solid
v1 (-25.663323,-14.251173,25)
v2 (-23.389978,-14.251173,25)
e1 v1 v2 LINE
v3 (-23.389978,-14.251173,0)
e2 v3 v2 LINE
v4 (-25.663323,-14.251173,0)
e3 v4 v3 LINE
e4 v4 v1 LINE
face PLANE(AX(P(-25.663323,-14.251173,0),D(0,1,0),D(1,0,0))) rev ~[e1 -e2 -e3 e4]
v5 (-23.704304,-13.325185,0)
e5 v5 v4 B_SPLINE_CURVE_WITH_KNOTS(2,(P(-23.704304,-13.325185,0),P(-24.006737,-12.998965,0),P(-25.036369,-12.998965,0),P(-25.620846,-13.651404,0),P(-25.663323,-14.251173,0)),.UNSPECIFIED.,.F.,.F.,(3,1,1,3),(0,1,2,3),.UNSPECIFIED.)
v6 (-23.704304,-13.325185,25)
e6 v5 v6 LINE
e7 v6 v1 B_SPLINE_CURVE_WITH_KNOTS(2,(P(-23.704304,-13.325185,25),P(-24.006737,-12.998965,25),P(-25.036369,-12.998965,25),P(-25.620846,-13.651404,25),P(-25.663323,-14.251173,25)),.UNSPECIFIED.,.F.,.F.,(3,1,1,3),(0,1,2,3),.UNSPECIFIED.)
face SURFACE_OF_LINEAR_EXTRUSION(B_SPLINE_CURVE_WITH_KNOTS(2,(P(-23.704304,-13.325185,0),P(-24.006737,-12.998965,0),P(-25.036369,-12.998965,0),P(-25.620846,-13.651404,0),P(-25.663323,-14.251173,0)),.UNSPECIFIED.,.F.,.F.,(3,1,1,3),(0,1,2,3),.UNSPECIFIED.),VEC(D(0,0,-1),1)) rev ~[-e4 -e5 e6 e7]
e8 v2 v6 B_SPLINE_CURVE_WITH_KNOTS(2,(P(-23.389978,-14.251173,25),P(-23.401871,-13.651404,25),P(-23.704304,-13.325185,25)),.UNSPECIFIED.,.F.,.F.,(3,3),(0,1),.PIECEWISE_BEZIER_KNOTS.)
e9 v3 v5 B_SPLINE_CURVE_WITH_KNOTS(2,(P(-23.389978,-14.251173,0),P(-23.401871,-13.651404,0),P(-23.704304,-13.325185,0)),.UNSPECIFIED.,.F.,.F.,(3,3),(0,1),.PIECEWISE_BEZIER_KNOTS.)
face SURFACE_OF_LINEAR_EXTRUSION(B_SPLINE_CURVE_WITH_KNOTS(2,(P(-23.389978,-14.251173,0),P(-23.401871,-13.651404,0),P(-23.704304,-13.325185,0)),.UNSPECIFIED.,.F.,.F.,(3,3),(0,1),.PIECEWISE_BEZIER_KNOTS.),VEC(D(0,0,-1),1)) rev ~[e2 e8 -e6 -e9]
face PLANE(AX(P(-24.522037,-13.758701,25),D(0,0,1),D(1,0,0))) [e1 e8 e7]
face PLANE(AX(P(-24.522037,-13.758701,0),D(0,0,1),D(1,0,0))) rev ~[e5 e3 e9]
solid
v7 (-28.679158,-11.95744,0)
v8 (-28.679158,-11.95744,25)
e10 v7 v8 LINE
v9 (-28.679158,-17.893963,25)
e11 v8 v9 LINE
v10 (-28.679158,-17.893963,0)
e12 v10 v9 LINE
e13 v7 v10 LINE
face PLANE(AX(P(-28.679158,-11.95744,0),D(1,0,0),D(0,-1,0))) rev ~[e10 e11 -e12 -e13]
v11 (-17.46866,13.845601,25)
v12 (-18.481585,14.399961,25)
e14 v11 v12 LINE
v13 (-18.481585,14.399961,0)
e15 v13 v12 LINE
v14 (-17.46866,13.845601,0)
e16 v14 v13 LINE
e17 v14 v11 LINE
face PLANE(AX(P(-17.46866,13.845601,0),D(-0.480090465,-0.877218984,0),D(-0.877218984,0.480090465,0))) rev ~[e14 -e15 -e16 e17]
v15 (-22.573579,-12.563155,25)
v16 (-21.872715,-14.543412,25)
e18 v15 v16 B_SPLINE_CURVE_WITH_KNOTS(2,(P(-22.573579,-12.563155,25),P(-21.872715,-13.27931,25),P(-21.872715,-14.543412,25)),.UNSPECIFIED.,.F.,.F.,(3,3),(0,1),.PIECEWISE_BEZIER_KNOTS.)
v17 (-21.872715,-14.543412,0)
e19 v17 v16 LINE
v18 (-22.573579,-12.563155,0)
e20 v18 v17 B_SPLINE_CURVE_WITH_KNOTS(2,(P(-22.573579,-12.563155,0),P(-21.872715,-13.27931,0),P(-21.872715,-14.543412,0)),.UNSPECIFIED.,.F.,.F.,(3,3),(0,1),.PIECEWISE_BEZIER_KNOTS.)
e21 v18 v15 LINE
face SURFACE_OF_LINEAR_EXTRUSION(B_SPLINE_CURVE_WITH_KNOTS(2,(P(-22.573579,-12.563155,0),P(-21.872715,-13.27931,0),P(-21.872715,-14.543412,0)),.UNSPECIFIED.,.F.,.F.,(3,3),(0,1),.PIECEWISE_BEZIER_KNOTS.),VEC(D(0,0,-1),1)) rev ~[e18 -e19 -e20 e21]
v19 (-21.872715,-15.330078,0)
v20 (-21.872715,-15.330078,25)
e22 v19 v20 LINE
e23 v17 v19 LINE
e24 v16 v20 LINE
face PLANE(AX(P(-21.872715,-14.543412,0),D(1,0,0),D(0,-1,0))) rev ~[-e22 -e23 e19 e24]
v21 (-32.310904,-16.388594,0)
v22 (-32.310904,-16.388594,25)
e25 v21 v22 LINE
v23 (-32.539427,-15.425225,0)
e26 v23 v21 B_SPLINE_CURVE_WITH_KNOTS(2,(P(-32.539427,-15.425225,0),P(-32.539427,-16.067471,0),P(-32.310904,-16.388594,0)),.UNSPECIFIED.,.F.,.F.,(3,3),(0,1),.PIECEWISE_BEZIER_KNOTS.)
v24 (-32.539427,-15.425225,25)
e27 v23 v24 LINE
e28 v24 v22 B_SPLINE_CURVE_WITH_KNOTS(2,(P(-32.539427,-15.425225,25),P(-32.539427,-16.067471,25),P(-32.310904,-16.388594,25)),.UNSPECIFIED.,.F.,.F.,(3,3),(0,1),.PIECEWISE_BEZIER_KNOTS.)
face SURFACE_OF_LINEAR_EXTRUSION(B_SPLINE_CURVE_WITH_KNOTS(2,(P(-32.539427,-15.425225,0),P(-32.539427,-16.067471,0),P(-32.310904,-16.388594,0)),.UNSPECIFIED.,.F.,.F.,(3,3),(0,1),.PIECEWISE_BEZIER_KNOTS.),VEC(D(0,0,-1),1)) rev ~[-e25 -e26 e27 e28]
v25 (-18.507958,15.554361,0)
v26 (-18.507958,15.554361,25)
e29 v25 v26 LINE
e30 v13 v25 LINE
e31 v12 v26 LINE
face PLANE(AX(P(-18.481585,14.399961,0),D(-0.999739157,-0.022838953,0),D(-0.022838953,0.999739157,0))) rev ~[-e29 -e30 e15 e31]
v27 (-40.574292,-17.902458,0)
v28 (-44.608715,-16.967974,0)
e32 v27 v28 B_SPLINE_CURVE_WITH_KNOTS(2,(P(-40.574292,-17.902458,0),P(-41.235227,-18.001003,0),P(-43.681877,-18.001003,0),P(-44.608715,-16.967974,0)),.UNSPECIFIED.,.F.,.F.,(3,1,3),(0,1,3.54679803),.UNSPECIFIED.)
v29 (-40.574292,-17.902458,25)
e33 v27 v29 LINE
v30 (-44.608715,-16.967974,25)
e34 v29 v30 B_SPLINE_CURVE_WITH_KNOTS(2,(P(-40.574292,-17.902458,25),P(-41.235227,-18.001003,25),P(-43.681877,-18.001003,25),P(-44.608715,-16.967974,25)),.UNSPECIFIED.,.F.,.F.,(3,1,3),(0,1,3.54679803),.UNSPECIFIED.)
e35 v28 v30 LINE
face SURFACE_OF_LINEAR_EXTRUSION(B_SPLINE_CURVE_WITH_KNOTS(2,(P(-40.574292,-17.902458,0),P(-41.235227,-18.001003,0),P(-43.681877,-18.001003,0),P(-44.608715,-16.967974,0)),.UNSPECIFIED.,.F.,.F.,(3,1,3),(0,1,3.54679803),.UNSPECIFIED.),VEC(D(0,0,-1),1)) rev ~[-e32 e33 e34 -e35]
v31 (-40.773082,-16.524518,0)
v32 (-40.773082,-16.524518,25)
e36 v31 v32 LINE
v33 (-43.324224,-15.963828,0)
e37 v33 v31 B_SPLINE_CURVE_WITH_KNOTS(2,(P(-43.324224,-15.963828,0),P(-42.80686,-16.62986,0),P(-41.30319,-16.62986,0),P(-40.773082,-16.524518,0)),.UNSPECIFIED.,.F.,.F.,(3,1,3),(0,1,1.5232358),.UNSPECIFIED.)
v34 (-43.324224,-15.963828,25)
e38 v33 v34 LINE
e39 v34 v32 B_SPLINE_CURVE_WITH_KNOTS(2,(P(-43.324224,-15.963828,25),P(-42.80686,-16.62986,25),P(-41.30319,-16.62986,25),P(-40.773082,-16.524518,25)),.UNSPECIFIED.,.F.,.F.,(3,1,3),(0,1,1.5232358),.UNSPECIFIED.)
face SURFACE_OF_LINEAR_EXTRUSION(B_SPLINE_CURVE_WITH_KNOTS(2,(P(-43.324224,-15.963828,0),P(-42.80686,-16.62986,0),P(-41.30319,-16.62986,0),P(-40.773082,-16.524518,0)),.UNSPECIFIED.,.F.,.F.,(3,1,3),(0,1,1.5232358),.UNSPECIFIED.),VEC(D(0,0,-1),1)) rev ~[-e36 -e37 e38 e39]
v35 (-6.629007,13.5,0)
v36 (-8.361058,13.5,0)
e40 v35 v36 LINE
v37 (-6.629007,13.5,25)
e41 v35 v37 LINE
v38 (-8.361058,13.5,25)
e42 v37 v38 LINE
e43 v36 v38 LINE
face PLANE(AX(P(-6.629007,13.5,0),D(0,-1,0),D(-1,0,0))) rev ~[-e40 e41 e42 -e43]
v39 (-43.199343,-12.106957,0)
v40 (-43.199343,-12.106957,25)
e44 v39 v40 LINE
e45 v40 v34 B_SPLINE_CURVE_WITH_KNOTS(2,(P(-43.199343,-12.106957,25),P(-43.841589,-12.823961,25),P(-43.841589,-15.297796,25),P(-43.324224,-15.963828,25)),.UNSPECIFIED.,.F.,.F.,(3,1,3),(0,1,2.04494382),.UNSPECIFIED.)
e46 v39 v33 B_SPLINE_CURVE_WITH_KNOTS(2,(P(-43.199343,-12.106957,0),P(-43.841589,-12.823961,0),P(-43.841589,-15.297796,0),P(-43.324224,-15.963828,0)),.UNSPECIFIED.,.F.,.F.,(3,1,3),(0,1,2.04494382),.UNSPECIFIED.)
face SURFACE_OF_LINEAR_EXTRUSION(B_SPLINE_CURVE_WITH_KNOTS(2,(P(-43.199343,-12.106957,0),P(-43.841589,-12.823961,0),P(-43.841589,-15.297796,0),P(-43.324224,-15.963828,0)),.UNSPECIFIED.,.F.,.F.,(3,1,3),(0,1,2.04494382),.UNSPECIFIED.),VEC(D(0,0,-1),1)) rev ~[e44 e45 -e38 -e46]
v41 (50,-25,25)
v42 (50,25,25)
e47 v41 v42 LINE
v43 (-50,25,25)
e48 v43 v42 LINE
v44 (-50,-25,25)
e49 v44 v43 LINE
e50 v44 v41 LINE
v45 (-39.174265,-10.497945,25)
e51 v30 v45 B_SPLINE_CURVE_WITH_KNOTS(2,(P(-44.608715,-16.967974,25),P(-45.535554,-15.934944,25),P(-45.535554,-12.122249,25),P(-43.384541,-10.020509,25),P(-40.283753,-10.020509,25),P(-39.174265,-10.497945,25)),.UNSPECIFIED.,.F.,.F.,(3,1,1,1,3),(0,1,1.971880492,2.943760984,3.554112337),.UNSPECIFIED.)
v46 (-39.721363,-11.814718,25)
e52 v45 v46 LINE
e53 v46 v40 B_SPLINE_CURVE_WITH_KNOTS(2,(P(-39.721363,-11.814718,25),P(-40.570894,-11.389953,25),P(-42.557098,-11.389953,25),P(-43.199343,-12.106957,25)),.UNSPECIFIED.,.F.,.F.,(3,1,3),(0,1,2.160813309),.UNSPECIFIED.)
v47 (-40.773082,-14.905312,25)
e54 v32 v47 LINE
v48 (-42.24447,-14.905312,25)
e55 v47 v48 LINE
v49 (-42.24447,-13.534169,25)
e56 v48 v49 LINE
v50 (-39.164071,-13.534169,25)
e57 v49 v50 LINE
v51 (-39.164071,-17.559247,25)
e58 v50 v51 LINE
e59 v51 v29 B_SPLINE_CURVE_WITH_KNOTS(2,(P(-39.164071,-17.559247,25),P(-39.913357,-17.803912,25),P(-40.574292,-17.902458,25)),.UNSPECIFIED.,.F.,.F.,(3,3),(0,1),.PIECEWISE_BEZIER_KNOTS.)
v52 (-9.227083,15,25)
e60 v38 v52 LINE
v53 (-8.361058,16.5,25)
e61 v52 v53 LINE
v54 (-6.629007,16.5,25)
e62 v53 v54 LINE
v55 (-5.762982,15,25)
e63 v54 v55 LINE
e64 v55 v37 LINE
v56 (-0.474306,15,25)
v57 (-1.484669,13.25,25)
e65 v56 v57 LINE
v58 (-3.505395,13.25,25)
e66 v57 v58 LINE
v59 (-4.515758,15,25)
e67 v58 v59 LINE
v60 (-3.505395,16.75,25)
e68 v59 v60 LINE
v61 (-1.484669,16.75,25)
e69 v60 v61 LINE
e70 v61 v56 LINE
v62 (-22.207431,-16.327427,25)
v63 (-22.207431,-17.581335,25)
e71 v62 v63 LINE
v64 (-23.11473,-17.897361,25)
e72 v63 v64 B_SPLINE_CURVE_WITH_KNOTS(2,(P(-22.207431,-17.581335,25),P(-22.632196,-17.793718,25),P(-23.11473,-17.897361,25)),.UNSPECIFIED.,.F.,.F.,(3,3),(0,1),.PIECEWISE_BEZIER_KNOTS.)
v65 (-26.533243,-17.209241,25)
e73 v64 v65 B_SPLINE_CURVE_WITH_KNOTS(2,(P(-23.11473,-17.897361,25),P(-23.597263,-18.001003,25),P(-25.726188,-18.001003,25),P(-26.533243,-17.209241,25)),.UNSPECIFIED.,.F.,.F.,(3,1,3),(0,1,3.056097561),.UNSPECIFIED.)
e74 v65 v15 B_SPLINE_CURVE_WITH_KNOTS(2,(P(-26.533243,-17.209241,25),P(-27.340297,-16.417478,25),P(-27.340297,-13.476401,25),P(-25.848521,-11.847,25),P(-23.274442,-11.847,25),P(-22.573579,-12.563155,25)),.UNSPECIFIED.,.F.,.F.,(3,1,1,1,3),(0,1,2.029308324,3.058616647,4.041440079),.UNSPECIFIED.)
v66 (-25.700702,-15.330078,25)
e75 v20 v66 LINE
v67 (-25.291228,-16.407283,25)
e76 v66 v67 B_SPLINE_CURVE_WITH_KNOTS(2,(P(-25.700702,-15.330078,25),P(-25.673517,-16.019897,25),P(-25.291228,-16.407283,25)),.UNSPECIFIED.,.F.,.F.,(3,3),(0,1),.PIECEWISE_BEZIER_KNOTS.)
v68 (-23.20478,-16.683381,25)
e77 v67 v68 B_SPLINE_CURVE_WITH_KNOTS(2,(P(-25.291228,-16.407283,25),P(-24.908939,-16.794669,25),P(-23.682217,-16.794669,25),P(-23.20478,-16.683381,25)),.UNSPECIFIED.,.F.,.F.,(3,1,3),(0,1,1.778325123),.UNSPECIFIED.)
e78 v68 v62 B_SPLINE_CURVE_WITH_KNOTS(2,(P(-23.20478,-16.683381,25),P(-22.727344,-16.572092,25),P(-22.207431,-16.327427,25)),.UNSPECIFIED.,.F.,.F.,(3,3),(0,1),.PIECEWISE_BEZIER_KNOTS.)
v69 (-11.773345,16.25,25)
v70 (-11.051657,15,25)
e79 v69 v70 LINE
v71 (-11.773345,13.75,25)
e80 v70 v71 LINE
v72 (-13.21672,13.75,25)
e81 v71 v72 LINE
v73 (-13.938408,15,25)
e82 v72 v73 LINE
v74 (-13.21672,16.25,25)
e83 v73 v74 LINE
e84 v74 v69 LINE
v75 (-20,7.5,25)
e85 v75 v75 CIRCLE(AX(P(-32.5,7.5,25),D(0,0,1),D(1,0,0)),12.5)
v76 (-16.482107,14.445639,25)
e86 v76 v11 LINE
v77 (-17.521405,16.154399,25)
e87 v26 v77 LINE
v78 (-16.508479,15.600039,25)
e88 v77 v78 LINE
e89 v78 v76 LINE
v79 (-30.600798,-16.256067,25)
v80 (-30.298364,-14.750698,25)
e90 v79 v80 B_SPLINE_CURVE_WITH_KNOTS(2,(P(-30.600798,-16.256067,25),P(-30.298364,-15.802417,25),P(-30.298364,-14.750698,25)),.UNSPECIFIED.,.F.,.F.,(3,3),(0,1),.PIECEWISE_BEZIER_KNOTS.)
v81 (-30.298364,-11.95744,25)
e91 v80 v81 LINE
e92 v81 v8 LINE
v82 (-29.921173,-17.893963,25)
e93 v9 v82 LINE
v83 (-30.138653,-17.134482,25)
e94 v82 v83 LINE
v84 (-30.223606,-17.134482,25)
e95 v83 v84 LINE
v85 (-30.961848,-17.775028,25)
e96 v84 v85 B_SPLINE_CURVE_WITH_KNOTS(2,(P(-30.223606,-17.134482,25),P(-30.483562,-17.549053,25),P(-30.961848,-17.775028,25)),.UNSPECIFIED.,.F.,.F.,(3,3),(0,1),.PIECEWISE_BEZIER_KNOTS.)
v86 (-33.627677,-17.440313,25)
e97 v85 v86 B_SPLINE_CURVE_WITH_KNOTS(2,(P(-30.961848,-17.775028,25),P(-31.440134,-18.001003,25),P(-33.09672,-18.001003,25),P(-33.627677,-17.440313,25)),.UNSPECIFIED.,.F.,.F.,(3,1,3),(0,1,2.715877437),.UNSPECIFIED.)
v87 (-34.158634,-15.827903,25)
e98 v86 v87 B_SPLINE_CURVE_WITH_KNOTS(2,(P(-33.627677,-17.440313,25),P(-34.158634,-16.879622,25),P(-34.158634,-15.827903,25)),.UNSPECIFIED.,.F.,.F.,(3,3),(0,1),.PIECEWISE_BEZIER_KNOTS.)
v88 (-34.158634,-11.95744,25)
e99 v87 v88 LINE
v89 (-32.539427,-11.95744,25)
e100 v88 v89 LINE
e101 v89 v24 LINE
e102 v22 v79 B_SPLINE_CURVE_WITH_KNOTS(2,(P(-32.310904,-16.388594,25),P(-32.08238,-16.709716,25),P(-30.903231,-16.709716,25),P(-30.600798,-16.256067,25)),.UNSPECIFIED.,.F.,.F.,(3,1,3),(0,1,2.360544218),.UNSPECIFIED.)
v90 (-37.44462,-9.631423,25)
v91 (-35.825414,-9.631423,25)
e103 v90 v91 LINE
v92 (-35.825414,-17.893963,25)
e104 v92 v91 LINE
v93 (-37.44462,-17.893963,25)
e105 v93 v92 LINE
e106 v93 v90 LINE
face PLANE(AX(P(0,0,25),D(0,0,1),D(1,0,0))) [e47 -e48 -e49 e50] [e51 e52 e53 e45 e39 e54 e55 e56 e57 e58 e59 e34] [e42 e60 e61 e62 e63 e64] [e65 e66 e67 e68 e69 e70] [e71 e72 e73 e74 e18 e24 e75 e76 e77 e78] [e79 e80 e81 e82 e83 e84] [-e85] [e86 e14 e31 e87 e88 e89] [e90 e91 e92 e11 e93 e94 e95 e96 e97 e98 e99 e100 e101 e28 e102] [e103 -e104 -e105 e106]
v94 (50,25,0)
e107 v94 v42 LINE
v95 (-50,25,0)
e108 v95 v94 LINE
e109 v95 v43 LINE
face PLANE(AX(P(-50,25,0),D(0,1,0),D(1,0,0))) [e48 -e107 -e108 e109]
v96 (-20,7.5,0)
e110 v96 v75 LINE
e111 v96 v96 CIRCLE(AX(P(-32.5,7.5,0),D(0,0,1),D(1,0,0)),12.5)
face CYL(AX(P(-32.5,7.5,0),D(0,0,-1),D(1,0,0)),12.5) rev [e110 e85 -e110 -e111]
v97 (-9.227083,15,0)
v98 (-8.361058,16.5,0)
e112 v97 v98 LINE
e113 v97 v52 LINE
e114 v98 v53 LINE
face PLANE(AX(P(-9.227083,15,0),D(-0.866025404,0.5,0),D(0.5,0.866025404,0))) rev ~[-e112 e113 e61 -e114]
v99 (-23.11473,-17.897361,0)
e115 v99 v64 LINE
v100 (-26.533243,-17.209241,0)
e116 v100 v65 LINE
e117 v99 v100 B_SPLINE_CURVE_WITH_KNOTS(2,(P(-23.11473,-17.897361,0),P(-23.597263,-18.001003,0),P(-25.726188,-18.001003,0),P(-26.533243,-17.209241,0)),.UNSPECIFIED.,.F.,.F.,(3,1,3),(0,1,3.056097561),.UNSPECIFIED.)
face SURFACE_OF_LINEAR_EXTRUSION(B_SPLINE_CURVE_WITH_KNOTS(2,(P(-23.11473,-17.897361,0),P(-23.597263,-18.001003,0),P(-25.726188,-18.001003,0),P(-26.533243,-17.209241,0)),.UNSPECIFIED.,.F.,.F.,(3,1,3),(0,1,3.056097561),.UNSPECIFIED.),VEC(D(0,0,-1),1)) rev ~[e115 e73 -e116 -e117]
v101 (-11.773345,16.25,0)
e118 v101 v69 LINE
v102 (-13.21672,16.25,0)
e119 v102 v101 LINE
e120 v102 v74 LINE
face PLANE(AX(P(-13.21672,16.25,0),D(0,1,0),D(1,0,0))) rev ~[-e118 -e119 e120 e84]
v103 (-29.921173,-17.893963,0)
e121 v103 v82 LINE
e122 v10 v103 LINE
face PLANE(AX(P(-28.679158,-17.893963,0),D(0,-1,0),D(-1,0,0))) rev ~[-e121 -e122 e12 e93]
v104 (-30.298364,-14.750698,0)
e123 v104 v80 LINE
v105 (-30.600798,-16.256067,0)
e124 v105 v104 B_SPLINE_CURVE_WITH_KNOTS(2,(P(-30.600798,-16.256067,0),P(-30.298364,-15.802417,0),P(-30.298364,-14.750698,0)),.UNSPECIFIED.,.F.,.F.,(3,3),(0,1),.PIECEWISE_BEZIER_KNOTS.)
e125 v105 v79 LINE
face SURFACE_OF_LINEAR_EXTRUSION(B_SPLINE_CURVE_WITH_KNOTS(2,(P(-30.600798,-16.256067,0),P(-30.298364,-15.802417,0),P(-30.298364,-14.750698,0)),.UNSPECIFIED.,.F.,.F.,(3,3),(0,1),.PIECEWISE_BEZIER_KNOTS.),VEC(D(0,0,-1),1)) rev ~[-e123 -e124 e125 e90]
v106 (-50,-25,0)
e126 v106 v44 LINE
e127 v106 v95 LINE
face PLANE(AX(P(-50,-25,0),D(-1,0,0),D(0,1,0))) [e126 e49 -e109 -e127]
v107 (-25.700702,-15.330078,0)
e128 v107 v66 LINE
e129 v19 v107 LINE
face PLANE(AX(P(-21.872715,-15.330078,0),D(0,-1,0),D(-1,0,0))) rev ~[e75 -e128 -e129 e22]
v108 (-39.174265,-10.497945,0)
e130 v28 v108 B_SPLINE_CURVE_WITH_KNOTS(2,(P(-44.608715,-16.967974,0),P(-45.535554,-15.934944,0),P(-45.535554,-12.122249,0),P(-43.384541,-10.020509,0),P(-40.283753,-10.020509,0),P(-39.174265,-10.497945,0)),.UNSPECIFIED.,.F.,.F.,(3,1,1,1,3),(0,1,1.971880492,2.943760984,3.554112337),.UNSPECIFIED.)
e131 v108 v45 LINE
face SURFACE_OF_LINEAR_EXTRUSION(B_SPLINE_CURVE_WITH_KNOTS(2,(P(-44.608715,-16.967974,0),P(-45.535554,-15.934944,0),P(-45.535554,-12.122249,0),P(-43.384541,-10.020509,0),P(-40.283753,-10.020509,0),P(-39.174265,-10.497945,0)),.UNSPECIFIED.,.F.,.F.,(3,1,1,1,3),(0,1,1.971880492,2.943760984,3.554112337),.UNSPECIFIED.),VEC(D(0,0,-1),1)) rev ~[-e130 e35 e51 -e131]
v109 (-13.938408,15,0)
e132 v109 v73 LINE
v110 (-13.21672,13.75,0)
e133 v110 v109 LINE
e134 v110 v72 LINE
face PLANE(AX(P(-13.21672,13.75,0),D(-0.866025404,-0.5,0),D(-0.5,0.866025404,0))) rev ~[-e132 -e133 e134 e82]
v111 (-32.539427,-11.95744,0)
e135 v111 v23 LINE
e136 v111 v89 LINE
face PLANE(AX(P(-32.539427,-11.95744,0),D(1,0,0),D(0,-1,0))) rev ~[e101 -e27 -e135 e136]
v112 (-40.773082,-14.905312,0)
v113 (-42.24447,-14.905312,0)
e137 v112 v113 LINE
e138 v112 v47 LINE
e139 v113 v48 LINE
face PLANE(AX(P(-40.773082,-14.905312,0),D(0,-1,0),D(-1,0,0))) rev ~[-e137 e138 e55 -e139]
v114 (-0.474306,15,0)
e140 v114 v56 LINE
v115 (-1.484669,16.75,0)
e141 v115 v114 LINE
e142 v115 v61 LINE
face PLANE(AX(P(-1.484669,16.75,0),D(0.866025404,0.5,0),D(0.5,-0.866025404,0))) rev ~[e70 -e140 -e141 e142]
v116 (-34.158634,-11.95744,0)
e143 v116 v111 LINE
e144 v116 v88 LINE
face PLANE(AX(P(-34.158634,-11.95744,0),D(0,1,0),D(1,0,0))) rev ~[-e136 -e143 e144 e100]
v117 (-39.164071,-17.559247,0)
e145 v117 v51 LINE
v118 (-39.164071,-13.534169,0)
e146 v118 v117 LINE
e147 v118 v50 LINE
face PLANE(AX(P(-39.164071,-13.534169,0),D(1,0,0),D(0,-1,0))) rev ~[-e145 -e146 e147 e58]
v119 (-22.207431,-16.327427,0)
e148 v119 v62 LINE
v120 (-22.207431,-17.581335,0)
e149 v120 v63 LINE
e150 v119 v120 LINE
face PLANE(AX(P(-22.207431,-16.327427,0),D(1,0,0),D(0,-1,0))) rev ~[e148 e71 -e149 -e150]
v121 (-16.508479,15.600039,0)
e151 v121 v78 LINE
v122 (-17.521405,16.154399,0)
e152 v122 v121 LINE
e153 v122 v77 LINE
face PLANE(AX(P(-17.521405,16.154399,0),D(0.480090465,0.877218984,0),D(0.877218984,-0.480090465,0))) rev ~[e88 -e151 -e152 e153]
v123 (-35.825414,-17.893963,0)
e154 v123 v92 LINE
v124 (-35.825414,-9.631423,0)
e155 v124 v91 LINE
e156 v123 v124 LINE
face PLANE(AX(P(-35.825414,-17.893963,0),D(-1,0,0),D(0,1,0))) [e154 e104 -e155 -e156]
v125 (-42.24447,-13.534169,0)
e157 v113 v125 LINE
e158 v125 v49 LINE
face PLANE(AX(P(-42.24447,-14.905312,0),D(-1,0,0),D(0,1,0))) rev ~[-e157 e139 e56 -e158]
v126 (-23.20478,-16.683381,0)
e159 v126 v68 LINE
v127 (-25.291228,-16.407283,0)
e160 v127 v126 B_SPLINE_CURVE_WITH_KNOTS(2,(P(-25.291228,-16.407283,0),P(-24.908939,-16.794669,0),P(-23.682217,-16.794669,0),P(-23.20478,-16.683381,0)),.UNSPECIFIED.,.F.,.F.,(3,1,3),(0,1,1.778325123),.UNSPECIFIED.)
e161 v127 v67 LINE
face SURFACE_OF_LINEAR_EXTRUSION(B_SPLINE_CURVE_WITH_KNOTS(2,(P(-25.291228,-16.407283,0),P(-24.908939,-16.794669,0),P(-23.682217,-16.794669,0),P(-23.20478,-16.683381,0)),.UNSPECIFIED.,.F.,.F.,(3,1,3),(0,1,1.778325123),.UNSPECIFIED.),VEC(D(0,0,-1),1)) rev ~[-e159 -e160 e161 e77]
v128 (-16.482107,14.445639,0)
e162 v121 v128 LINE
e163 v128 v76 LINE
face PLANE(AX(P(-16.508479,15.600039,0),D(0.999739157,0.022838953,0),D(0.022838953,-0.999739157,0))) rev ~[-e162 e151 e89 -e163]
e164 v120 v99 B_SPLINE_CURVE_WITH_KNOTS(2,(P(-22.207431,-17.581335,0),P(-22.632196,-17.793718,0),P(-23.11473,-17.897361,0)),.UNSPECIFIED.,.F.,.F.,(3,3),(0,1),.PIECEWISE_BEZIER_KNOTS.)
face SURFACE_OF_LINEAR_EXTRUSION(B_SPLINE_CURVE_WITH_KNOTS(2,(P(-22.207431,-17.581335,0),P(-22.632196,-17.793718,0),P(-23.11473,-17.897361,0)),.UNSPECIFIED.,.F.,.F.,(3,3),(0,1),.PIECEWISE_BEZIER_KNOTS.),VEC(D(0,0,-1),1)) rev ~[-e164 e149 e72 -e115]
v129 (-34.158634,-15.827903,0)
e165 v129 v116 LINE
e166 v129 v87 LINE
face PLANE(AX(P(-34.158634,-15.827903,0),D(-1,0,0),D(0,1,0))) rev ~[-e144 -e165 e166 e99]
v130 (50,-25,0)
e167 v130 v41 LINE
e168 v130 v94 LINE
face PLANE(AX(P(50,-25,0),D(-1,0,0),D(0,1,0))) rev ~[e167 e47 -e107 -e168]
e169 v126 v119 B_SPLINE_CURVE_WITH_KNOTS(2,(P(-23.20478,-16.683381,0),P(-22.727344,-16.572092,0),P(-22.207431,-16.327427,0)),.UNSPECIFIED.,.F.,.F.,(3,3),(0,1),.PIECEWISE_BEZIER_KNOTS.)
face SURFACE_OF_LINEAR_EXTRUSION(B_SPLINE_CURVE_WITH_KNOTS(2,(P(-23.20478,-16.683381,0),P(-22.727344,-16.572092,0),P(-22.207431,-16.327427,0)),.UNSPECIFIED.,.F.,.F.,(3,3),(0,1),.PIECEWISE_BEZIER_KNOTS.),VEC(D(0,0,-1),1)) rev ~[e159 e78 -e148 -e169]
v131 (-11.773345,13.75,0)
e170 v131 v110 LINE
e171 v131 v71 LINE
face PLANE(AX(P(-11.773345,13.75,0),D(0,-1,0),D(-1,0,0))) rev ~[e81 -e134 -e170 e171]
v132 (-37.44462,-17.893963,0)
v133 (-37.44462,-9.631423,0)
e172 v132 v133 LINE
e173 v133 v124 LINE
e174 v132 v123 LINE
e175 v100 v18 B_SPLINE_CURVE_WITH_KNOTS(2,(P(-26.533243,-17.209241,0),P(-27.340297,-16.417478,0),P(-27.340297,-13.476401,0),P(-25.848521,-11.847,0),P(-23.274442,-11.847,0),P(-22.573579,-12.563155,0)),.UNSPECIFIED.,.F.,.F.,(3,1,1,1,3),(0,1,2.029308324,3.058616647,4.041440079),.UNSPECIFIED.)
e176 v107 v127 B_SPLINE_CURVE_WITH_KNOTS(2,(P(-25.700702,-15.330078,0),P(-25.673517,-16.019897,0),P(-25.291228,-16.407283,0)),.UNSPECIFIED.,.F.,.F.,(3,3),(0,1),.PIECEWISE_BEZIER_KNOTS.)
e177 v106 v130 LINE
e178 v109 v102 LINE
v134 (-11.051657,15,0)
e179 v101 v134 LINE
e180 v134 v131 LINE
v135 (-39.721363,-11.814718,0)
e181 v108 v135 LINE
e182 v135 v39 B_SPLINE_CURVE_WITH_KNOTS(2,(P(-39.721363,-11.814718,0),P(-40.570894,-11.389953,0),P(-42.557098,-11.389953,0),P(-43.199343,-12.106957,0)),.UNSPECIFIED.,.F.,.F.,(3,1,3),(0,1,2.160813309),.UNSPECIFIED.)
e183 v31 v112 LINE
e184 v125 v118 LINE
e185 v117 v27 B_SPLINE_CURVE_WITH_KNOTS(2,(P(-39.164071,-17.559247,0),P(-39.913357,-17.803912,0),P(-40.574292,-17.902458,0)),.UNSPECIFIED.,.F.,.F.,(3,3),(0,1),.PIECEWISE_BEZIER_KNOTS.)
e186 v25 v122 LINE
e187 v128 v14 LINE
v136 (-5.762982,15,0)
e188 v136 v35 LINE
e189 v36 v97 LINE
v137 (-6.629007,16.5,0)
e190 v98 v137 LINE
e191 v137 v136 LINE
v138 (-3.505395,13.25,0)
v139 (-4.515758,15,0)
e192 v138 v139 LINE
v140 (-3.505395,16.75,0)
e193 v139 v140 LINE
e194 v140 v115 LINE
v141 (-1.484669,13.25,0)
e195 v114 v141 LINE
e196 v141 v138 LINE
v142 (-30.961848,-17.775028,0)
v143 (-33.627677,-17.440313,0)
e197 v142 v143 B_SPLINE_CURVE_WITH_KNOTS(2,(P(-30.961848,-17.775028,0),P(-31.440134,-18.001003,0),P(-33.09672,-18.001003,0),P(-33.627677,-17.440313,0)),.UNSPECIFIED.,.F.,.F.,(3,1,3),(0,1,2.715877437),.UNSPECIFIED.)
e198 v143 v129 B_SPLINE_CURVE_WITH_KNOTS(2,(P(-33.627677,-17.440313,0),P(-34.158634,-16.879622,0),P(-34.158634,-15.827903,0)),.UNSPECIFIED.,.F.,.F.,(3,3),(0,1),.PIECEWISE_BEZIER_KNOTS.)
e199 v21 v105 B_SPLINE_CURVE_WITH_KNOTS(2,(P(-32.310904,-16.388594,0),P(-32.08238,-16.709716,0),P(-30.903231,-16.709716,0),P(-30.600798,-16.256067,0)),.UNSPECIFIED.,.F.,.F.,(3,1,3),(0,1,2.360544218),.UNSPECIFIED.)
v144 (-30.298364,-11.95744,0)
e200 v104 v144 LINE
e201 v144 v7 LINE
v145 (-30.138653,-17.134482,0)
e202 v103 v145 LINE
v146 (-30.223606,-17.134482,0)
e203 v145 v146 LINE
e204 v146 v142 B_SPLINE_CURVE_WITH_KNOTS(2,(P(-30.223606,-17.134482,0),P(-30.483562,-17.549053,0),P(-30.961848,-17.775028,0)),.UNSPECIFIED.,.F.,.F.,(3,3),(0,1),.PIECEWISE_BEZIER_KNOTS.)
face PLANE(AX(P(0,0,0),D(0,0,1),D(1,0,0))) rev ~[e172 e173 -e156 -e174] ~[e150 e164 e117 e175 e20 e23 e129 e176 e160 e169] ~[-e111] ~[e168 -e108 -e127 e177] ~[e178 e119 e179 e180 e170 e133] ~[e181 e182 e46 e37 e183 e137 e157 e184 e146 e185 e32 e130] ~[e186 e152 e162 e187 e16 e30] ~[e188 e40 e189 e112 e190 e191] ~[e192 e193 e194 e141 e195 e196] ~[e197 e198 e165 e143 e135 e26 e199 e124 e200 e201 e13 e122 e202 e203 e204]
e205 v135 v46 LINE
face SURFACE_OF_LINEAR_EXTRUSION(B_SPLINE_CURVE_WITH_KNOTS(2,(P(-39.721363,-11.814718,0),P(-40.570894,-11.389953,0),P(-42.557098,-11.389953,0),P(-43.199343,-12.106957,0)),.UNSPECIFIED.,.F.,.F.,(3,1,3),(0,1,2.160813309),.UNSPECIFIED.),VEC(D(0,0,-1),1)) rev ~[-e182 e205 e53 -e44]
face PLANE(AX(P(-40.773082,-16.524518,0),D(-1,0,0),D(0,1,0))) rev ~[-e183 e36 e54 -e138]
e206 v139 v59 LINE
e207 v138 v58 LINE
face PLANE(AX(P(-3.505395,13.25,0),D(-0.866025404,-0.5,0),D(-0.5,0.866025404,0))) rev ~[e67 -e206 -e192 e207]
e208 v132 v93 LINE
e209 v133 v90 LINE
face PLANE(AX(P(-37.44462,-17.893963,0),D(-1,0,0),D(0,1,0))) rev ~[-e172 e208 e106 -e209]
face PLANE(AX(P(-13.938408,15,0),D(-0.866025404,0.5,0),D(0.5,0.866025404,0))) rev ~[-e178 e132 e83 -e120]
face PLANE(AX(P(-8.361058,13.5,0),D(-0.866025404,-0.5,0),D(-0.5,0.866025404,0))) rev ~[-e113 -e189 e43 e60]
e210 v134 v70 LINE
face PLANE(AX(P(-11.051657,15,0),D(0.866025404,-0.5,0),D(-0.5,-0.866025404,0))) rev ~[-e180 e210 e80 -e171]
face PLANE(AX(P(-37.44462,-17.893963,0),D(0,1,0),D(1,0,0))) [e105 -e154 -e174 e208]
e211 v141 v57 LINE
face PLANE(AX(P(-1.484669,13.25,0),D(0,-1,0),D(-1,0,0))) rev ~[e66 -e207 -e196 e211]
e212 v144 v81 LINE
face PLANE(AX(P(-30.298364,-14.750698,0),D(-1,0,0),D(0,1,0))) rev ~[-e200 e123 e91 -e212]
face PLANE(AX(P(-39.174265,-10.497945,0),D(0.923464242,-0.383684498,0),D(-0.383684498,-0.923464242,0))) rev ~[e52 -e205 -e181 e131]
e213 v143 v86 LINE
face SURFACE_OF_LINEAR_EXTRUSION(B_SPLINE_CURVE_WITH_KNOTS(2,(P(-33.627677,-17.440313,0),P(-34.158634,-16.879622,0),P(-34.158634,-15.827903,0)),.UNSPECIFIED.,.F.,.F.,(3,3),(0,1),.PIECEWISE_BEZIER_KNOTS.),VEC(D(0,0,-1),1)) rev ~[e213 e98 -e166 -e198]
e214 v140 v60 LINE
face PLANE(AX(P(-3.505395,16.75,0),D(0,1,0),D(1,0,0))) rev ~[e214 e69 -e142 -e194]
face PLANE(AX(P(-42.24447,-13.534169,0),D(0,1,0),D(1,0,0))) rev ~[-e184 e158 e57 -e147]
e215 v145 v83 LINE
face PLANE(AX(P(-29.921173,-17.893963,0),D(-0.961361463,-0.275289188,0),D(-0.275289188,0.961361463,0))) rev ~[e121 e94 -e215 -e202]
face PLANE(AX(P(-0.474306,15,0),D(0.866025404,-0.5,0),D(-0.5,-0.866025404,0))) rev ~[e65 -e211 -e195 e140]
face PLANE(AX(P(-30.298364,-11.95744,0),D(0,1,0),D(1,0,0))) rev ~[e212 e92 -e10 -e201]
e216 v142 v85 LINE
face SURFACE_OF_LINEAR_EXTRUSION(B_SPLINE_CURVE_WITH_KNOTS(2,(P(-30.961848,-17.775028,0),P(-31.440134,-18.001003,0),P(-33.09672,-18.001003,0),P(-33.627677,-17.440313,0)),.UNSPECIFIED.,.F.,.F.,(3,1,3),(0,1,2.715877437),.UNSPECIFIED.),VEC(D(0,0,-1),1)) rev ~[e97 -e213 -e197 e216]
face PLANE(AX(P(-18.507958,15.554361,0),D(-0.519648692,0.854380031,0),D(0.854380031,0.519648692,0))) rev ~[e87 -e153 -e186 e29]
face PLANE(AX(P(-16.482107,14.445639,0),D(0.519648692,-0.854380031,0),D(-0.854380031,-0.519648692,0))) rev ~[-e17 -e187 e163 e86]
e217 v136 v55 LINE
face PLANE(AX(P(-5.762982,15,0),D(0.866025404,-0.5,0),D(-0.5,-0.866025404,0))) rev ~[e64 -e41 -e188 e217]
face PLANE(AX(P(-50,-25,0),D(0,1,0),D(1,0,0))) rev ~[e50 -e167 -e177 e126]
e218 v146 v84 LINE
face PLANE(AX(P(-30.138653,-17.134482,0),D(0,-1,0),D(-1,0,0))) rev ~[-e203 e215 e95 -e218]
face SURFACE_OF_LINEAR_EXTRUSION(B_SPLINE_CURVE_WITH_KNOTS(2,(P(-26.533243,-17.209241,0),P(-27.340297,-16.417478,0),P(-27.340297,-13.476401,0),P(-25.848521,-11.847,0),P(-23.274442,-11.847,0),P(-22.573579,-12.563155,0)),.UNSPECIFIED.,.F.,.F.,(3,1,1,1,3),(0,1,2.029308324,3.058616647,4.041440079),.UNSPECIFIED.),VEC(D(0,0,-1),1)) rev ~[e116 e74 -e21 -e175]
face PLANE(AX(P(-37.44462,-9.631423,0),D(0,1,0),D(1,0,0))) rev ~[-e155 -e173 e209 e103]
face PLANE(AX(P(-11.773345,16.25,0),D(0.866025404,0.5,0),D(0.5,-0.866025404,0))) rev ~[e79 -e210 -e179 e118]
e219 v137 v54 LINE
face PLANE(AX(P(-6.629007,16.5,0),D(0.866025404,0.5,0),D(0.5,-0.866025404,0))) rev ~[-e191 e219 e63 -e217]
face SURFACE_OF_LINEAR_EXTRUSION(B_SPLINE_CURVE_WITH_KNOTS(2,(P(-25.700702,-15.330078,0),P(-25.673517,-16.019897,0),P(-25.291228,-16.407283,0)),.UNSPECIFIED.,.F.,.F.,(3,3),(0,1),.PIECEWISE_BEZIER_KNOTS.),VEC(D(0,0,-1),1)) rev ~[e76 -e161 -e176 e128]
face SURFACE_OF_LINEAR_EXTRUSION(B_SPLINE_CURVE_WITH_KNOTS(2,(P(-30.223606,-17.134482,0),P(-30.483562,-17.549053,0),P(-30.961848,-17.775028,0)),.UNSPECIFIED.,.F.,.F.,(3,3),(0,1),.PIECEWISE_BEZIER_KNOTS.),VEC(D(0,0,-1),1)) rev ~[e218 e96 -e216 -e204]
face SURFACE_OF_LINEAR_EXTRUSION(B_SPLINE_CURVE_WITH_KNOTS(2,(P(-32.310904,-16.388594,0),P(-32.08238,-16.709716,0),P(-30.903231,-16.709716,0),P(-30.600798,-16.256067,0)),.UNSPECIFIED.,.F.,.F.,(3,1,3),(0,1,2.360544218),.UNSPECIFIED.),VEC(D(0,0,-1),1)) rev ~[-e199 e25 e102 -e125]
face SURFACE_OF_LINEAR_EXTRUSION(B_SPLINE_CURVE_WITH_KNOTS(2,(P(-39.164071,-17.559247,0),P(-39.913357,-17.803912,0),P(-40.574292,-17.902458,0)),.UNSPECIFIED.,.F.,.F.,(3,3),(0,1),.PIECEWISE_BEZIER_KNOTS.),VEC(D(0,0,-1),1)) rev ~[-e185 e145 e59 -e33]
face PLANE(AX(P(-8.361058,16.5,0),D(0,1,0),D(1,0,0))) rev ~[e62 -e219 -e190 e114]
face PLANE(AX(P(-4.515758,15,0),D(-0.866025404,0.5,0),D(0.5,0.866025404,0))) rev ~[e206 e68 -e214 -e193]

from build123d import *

# Parameters (mm, degrees)
F0_W     = 100
F0_H     = 50
F0_W_2   = 1.6192061982
F0_H_2   = 8.2625390784
F0_R     = 12.5
F1_DEPTH = 25


with BuildPart() as f1:
    # F0 (on Top) → F1 (new body)
    with BuildSketch(Plane.XY):
        Rectangle(F0_W, F0_H)
        with BuildLine():
            Line((-42.2444701954, -14.905312297), (-42.2444701954, -13.534169168))
            Line((-42.2444701954, -13.534169168), (-39.164070576, -13.534169168))
            Line((-39.164070576, -13.534169168), (-39.164070576, -17.5592473249))
            add(Edge.make_bspline(
                [(-39.164070576, -17.5592473249), (-39.9133569699, -17.8039122698), (-40.5742921337, -17.9024578727)],
                knots=[0, 0, 0, 1, 1, 1], degree=2))
            add(Edge.make_bspline(
                [(-40.5742921337, -17.9024578727), (-41.2352272975, -18.0010034755), (-41.9250465173, -18.0010034755)],
                knots=[0, 0, 0, 1, 1, 1], degree=2))
            add(Edge.make_bspline(
                [(-41.9250465173, -18.0010034755), (-43.681876747, -18.0010034755), (-44.6087151322, -16.9679737079)],
                knots=[0, 0, 0, 1, 1, 1], degree=2))
            add(Edge.make_bspline(
                [(-44.6087151322, -16.9679737079), (-45.5355535174, -15.9349439404), (-45.5355535174, -14.0014112504)],
                knots=[0, 0, 0, 1, 1, 1], degree=2))
            add(Edge.make_bspline(
                [(-45.5355535174, -14.0014112504), (-45.5355535174, -12.1222485482), (-44.4600471969, -11.0713786284)],
                knots=[0, 0, 0, 1, 1, 1], degree=2))
            add(Edge.make_bspline(
                [(-44.4600471969, -11.0713786284), (-43.3845408764, -10.0205087086), (-41.4798922425, -10.0205087086)],
                knots=[0, 0, 0, 1, 1, 1], degree=2))
            add(Edge.make_bspline(
                [(-41.4798922425, -10.0205087086), (-40.2837525116, -10.0205087086), (-39.1742649487, -10.4979451637)],
                knots=[0, 0, 0, 1, 1, 1], degree=2))
            Line((-39.1742649487, -10.4979451637), (-39.7213629506, -11.8147183049))
            add(Edge.make_bspline(
                [(-39.7213629506, -11.8147183049), (-40.5708940095, -11.3899527755), (-41.4900866152, -11.3899527755)],
                knots=[0, 0, 0, 1, 1, 1], degree=2))
            add(Edge.make_bspline(
                [(-41.4900866152, -11.3899527755), (-42.5570976251, -11.3899527755), (-43.1993431056, -12.1069569892)],
                knots=[0, 0, 0, 1, 1, 1], degree=2))
            add(Edge.make_bspline(
                [(-43.1993431056, -12.1069569892), (-43.8415885861, -12.8239612028), (-43.8415885861, -14.0336934306)],
                knots=[0, 0, 0, 1, 1, 1], degree=2))
            add(Edge.make_bspline(
                [(-43.8415885861, -14.0336934306), (-43.8415885861, -15.2977956462), (-43.3242241712, -15.9638279964)],
                knots=[0, 0, 0, 1, 1, 1], degree=2))
            add(Edge.make_bspline(
                [(-43.3242241712, -15.9638279964), (-42.8068597564, -16.6298603465), (-41.819704666, -16.6298603465)],
                knots=[0, 0, 0, 1, 1, 1], degree=2))
            add(Edge.make_bspline(
                [(-41.819704666, -16.6298603465), (-41.3031897822, -16.6298603465), (-40.7730824015, -16.5245184952)],
                knots=[0, 0, 0, 1, 1, 1], degree=2))
            Line((-40.7730824015, -16.5245184952), (-40.7730824015, -14.905312297))
            Line((-40.7730824015, -14.905312297), (-42.2444701954, -14.905312297))
        make_face(mode=Mode.SUBTRACT)
        with BuildLine():
            Line((-28.6791582476, -17.8939625621), (-29.9211726557, -17.8939625621))
            Line((-29.9211726557, -17.8939625621), (-30.1386526067, -17.1344817955))
            Line((-30.1386526067, -17.1344817955), (-30.2236057126, -17.1344817955))
            add(Edge.make_bspline(
                [(-30.2236057126, -17.1344817955), (-30.4835622166, -17.5490529522), (-30.9618482028, -17.7750282138)],
                knots=[0, 0, 0, 1, 1, 1], degree=2))
            add(Edge.make_bspline(
                [(-30.9618482028, -17.7750282138), (-31.4401341889, -18.0010034755), (-32.0500974892, -18.0010034755)],
                knots=[0, 0, 0, 1, 1, 1], degree=2))
            add(Edge.make_bspline(
                [(-32.0500974892, -18.0010034755), (-33.0967197537, -18.0010034755), (-33.6276766655, -17.4403129767)],
                knots=[0, 0, 0, 1, 1, 1], degree=2))
            add(Edge.make_bspline(
                [(-33.6276766655, -17.4403129767), (-34.1586335772, -16.8796224778), (-34.1586335772, -15.8279030269)],
                knots=[0, 0, 0, 1, 1, 1], degree=2))
            Line((-34.1586335772, -15.8279030269), (-34.1586335772, -11.9574395228))
            Line((-34.1586335772, -11.9574395228), (-32.5394273791, -11.9574395228))
            Line((-32.5394273791, -11.9574395228), (-32.5394273791, -15.4252253051))
            add(Edge.make_bspline(
                [(-32.5394273791, -15.4252253051), (-32.5394273791, -16.0674707855), (-32.3109035242, -16.3885935258)],
                knots=[0, 0, 0, 1, 1, 1], degree=2))
            add(Edge.make_bspline(
                [(-32.3109035242, -16.3885935258), (-32.0823796694, -16.709716266), (-31.5828554068, -16.709716266)],
                knots=[0, 0, 0, 1, 1, 1], degree=2))
            add(Edge.make_bspline(
                [(-31.5828554068, -16.709716266), (-30.9032305597, -16.709716266), (-30.6007975028, -16.2560666806)],
                knots=[0, 0, 0, 1, 1, 1], degree=2))
            add(Edge.make_bspline(
                [(-30.6007975028, -16.2560666806), (-30.2983644458, -15.8024170952), (-30.2983644458, -14.7506976443)],
                knots=[0, 0, 0, 1, 1, 1], degree=2))
            Line((-30.2983644458, -14.7506976443), (-30.2983644458, -11.9574395228))
            Line((-30.2983644458, -11.9574395228), (-28.6791582476, -11.9574395228))
            Line((-28.6791582476, -11.9574395228), (-28.6791582476, -17.8939625621))
        make_face(mode=Mode.SUBTRACT)
        with Locations((-36.6350166138, -13.7626930229)):
            Rectangle(F0_W_2, F0_H_2, mode=Mode.SUBTRACT)
        with BuildLine():
            add(Edge.make_bspline(
                [(-23.1147298121, -17.8973606863), (-23.5972634536, -18.0010034755), (-24.2938789218, -18.0010034755)],
                knots=[0, 0, 0, 1, 1, 1], degree=2))
            add(Edge.make_bspline(
                [(-24.2938789218, -18.0010034755), (-25.726188287, -18.0010034755), (-26.533242793, -17.2092405286)],
                knots=[0, 0, 0, 1, 1, 1], degree=2))
            add(Edge.make_bspline(
                [(-26.533242793, -17.2092405286), (-27.3402972989, -16.4174775818), (-27.3402972989, -14.9681775954)],
                knots=[0, 0, 0, 1, 1, 1], degree=2))
            add(Edge.make_bspline(
                [(-27.3402972989, -14.9681775954), (-27.3402972989, -13.476401056), (-26.5944090292, -12.6617007706)],
                knots=[0, 0, 0, 1, 1, 1], degree=2))
            add(Edge.make_bspline(
                [(-26.5944090292, -12.6617007706), (-25.8485207595, -11.8470004852), (-24.5317476183, -11.8470004852)],
                knots=[0, 0, 0, 1, 1, 1], degree=2))
            add(Edge.make_bspline(
                [(-24.5317476183, -11.8470004852), (-23.2744416512, -11.8470004852), (-22.5735785276, -12.5631551678)],
                knots=[0, 0, 0, 1, 1, 1], degree=2))
            add(Edge.make_bspline(
                [(-22.5735785276, -12.5631551678), (-21.8727154041, -13.2793098504), (-21.8727154041, -14.543412066)],
                knots=[0, 0, 0, 1, 1, 1], degree=2))
            Line((-21.8727154041, -14.543412066), (-21.8727154041, -15.3300778265))
            Line((-21.8727154041, -15.3300778265), (-25.7007023553, -15.3300778265))
            add(Edge.make_bspline(
                [(-25.7007023553, -15.3300778265), (-25.6735173614, -16.0198970462), (-25.2912283849, -16.4072832091)],
                knots=[0, 0, 0, 1, 1, 1], degree=2))
            add(Edge.make_bspline(
                [(-25.2912283849, -16.4072832091), (-24.9089394084, -16.7946693719), (-24.2191201886, -16.7946693719)],
                knots=[0, 0, 0, 1, 1, 1], degree=2))
            add(Edge.make_bspline(
                [(-24.2191201886, -16.7946693719), (-23.6822165594, -16.7946693719), (-23.2047801044, -16.6833808032)],
                knots=[0, 0, 0, 1, 1, 1], degree=2))
            add(Edge.make_bspline(
                [(-23.2047801044, -16.6833808032), (-22.7273436493, -16.5720922345), (-22.2074306413, -16.3274272896)],
                knots=[0, 0, 0, 1, 1, 1], degree=2))
            Line((-22.2074306413, -16.3274272896), (-22.2074306413, -17.5813351324))
            add(Edge.make_bspline(
                [(-22.2074306413, -17.5813351324), (-22.6321961707, -17.7937178971), (-23.1147298121, -17.8973606863)],
                knots=[0, 0, 0, 1, 1, 1], degree=2))
        make_face(mode=Mode.SUBTRACT)
        with Locations((-32.5, 7.5)):
            Circle(F0_R, mode=Mode.SUBTRACT)
        Polygon((-16.5084793183, 15.6000386243), (-16.4821071673, 14.4456392813), (-17.4686602488, 13.8456006571), (-18.4815854815, 14.3999613757), (-18.5079576325, 15.5543607187), (-17.521404551, 16.1543993429), align=None, mode=Mode.SUBTRACT)
        Polygon((-13.9384080729, 15), (-13.2167202364, 16.25), (-11.7733445634, 16.25), (-11.0516567269, 15), (-11.7733445634, 13.75), (-13.2167202364, 13.75), align=None, mode=Mode.SUBTRACT)
        Polygon((-6.6290069961, 16.5), (-5.7629815923, 15), (-6.6290069961, 13.5), (-8.3610578037, 13.5), (-9.2270832075, 15), (-8.3610578037, 16.5), align=None, mode=Mode.SUBTRACT)
        Polygon((-1.4846694288, 16.75), (-0.4743064577, 15), (-1.4846694288, 13.25), (-3.505395371, 13.25), (-4.5157583421, 15), (-3.505395371, 16.75), align=None, mode=Mode.SUBTRACT)
    extrude(amount=F1_DEPTH)


with BuildPart() as f1b:
    # F0 (on Top) → F1, piece 2 (new body)
    with BuildSketch(Plane.XY):
        with BuildLine():
            add(Edge.make_bspline(
                [(-23.704304367, -13.3251845276), (-24.0067374239, -12.998964601), (-24.5215532456, -12.998964601)],
                knots=[0, 0, 0, 1, 1, 1], degree=2))
            add(Edge.make_bspline(
                [(-24.5215532456, -12.998964601), (-25.0363690673, -12.998964601), (-25.3286077515, -13.3251845276)],
                knots=[0, 0, 0, 1, 1, 1], degree=2))
            add(Edge.make_bspline(
                [(-25.3286077515, -13.3251845276), (-25.6208464357, -13.6514044542), (-25.6633229887, -14.2511733817)],
                knots=[0, 0, 0, 1, 1, 1], degree=2))
            Line((-25.6633229887, -14.2511733817), (-23.3899778752, -14.2511733817))
            add(Edge.make_bspline(
                [(-23.3899778752, -14.2511733817), (-23.40187131, -13.6514044542), (-23.704304367, -13.3251845276)],
                knots=[0, 0, 0, 1, 1, 1], degree=2))
        make_face()
    extrude(amount=F1_DEPTH)


solid = Compound([f1.part, f1b.part])
